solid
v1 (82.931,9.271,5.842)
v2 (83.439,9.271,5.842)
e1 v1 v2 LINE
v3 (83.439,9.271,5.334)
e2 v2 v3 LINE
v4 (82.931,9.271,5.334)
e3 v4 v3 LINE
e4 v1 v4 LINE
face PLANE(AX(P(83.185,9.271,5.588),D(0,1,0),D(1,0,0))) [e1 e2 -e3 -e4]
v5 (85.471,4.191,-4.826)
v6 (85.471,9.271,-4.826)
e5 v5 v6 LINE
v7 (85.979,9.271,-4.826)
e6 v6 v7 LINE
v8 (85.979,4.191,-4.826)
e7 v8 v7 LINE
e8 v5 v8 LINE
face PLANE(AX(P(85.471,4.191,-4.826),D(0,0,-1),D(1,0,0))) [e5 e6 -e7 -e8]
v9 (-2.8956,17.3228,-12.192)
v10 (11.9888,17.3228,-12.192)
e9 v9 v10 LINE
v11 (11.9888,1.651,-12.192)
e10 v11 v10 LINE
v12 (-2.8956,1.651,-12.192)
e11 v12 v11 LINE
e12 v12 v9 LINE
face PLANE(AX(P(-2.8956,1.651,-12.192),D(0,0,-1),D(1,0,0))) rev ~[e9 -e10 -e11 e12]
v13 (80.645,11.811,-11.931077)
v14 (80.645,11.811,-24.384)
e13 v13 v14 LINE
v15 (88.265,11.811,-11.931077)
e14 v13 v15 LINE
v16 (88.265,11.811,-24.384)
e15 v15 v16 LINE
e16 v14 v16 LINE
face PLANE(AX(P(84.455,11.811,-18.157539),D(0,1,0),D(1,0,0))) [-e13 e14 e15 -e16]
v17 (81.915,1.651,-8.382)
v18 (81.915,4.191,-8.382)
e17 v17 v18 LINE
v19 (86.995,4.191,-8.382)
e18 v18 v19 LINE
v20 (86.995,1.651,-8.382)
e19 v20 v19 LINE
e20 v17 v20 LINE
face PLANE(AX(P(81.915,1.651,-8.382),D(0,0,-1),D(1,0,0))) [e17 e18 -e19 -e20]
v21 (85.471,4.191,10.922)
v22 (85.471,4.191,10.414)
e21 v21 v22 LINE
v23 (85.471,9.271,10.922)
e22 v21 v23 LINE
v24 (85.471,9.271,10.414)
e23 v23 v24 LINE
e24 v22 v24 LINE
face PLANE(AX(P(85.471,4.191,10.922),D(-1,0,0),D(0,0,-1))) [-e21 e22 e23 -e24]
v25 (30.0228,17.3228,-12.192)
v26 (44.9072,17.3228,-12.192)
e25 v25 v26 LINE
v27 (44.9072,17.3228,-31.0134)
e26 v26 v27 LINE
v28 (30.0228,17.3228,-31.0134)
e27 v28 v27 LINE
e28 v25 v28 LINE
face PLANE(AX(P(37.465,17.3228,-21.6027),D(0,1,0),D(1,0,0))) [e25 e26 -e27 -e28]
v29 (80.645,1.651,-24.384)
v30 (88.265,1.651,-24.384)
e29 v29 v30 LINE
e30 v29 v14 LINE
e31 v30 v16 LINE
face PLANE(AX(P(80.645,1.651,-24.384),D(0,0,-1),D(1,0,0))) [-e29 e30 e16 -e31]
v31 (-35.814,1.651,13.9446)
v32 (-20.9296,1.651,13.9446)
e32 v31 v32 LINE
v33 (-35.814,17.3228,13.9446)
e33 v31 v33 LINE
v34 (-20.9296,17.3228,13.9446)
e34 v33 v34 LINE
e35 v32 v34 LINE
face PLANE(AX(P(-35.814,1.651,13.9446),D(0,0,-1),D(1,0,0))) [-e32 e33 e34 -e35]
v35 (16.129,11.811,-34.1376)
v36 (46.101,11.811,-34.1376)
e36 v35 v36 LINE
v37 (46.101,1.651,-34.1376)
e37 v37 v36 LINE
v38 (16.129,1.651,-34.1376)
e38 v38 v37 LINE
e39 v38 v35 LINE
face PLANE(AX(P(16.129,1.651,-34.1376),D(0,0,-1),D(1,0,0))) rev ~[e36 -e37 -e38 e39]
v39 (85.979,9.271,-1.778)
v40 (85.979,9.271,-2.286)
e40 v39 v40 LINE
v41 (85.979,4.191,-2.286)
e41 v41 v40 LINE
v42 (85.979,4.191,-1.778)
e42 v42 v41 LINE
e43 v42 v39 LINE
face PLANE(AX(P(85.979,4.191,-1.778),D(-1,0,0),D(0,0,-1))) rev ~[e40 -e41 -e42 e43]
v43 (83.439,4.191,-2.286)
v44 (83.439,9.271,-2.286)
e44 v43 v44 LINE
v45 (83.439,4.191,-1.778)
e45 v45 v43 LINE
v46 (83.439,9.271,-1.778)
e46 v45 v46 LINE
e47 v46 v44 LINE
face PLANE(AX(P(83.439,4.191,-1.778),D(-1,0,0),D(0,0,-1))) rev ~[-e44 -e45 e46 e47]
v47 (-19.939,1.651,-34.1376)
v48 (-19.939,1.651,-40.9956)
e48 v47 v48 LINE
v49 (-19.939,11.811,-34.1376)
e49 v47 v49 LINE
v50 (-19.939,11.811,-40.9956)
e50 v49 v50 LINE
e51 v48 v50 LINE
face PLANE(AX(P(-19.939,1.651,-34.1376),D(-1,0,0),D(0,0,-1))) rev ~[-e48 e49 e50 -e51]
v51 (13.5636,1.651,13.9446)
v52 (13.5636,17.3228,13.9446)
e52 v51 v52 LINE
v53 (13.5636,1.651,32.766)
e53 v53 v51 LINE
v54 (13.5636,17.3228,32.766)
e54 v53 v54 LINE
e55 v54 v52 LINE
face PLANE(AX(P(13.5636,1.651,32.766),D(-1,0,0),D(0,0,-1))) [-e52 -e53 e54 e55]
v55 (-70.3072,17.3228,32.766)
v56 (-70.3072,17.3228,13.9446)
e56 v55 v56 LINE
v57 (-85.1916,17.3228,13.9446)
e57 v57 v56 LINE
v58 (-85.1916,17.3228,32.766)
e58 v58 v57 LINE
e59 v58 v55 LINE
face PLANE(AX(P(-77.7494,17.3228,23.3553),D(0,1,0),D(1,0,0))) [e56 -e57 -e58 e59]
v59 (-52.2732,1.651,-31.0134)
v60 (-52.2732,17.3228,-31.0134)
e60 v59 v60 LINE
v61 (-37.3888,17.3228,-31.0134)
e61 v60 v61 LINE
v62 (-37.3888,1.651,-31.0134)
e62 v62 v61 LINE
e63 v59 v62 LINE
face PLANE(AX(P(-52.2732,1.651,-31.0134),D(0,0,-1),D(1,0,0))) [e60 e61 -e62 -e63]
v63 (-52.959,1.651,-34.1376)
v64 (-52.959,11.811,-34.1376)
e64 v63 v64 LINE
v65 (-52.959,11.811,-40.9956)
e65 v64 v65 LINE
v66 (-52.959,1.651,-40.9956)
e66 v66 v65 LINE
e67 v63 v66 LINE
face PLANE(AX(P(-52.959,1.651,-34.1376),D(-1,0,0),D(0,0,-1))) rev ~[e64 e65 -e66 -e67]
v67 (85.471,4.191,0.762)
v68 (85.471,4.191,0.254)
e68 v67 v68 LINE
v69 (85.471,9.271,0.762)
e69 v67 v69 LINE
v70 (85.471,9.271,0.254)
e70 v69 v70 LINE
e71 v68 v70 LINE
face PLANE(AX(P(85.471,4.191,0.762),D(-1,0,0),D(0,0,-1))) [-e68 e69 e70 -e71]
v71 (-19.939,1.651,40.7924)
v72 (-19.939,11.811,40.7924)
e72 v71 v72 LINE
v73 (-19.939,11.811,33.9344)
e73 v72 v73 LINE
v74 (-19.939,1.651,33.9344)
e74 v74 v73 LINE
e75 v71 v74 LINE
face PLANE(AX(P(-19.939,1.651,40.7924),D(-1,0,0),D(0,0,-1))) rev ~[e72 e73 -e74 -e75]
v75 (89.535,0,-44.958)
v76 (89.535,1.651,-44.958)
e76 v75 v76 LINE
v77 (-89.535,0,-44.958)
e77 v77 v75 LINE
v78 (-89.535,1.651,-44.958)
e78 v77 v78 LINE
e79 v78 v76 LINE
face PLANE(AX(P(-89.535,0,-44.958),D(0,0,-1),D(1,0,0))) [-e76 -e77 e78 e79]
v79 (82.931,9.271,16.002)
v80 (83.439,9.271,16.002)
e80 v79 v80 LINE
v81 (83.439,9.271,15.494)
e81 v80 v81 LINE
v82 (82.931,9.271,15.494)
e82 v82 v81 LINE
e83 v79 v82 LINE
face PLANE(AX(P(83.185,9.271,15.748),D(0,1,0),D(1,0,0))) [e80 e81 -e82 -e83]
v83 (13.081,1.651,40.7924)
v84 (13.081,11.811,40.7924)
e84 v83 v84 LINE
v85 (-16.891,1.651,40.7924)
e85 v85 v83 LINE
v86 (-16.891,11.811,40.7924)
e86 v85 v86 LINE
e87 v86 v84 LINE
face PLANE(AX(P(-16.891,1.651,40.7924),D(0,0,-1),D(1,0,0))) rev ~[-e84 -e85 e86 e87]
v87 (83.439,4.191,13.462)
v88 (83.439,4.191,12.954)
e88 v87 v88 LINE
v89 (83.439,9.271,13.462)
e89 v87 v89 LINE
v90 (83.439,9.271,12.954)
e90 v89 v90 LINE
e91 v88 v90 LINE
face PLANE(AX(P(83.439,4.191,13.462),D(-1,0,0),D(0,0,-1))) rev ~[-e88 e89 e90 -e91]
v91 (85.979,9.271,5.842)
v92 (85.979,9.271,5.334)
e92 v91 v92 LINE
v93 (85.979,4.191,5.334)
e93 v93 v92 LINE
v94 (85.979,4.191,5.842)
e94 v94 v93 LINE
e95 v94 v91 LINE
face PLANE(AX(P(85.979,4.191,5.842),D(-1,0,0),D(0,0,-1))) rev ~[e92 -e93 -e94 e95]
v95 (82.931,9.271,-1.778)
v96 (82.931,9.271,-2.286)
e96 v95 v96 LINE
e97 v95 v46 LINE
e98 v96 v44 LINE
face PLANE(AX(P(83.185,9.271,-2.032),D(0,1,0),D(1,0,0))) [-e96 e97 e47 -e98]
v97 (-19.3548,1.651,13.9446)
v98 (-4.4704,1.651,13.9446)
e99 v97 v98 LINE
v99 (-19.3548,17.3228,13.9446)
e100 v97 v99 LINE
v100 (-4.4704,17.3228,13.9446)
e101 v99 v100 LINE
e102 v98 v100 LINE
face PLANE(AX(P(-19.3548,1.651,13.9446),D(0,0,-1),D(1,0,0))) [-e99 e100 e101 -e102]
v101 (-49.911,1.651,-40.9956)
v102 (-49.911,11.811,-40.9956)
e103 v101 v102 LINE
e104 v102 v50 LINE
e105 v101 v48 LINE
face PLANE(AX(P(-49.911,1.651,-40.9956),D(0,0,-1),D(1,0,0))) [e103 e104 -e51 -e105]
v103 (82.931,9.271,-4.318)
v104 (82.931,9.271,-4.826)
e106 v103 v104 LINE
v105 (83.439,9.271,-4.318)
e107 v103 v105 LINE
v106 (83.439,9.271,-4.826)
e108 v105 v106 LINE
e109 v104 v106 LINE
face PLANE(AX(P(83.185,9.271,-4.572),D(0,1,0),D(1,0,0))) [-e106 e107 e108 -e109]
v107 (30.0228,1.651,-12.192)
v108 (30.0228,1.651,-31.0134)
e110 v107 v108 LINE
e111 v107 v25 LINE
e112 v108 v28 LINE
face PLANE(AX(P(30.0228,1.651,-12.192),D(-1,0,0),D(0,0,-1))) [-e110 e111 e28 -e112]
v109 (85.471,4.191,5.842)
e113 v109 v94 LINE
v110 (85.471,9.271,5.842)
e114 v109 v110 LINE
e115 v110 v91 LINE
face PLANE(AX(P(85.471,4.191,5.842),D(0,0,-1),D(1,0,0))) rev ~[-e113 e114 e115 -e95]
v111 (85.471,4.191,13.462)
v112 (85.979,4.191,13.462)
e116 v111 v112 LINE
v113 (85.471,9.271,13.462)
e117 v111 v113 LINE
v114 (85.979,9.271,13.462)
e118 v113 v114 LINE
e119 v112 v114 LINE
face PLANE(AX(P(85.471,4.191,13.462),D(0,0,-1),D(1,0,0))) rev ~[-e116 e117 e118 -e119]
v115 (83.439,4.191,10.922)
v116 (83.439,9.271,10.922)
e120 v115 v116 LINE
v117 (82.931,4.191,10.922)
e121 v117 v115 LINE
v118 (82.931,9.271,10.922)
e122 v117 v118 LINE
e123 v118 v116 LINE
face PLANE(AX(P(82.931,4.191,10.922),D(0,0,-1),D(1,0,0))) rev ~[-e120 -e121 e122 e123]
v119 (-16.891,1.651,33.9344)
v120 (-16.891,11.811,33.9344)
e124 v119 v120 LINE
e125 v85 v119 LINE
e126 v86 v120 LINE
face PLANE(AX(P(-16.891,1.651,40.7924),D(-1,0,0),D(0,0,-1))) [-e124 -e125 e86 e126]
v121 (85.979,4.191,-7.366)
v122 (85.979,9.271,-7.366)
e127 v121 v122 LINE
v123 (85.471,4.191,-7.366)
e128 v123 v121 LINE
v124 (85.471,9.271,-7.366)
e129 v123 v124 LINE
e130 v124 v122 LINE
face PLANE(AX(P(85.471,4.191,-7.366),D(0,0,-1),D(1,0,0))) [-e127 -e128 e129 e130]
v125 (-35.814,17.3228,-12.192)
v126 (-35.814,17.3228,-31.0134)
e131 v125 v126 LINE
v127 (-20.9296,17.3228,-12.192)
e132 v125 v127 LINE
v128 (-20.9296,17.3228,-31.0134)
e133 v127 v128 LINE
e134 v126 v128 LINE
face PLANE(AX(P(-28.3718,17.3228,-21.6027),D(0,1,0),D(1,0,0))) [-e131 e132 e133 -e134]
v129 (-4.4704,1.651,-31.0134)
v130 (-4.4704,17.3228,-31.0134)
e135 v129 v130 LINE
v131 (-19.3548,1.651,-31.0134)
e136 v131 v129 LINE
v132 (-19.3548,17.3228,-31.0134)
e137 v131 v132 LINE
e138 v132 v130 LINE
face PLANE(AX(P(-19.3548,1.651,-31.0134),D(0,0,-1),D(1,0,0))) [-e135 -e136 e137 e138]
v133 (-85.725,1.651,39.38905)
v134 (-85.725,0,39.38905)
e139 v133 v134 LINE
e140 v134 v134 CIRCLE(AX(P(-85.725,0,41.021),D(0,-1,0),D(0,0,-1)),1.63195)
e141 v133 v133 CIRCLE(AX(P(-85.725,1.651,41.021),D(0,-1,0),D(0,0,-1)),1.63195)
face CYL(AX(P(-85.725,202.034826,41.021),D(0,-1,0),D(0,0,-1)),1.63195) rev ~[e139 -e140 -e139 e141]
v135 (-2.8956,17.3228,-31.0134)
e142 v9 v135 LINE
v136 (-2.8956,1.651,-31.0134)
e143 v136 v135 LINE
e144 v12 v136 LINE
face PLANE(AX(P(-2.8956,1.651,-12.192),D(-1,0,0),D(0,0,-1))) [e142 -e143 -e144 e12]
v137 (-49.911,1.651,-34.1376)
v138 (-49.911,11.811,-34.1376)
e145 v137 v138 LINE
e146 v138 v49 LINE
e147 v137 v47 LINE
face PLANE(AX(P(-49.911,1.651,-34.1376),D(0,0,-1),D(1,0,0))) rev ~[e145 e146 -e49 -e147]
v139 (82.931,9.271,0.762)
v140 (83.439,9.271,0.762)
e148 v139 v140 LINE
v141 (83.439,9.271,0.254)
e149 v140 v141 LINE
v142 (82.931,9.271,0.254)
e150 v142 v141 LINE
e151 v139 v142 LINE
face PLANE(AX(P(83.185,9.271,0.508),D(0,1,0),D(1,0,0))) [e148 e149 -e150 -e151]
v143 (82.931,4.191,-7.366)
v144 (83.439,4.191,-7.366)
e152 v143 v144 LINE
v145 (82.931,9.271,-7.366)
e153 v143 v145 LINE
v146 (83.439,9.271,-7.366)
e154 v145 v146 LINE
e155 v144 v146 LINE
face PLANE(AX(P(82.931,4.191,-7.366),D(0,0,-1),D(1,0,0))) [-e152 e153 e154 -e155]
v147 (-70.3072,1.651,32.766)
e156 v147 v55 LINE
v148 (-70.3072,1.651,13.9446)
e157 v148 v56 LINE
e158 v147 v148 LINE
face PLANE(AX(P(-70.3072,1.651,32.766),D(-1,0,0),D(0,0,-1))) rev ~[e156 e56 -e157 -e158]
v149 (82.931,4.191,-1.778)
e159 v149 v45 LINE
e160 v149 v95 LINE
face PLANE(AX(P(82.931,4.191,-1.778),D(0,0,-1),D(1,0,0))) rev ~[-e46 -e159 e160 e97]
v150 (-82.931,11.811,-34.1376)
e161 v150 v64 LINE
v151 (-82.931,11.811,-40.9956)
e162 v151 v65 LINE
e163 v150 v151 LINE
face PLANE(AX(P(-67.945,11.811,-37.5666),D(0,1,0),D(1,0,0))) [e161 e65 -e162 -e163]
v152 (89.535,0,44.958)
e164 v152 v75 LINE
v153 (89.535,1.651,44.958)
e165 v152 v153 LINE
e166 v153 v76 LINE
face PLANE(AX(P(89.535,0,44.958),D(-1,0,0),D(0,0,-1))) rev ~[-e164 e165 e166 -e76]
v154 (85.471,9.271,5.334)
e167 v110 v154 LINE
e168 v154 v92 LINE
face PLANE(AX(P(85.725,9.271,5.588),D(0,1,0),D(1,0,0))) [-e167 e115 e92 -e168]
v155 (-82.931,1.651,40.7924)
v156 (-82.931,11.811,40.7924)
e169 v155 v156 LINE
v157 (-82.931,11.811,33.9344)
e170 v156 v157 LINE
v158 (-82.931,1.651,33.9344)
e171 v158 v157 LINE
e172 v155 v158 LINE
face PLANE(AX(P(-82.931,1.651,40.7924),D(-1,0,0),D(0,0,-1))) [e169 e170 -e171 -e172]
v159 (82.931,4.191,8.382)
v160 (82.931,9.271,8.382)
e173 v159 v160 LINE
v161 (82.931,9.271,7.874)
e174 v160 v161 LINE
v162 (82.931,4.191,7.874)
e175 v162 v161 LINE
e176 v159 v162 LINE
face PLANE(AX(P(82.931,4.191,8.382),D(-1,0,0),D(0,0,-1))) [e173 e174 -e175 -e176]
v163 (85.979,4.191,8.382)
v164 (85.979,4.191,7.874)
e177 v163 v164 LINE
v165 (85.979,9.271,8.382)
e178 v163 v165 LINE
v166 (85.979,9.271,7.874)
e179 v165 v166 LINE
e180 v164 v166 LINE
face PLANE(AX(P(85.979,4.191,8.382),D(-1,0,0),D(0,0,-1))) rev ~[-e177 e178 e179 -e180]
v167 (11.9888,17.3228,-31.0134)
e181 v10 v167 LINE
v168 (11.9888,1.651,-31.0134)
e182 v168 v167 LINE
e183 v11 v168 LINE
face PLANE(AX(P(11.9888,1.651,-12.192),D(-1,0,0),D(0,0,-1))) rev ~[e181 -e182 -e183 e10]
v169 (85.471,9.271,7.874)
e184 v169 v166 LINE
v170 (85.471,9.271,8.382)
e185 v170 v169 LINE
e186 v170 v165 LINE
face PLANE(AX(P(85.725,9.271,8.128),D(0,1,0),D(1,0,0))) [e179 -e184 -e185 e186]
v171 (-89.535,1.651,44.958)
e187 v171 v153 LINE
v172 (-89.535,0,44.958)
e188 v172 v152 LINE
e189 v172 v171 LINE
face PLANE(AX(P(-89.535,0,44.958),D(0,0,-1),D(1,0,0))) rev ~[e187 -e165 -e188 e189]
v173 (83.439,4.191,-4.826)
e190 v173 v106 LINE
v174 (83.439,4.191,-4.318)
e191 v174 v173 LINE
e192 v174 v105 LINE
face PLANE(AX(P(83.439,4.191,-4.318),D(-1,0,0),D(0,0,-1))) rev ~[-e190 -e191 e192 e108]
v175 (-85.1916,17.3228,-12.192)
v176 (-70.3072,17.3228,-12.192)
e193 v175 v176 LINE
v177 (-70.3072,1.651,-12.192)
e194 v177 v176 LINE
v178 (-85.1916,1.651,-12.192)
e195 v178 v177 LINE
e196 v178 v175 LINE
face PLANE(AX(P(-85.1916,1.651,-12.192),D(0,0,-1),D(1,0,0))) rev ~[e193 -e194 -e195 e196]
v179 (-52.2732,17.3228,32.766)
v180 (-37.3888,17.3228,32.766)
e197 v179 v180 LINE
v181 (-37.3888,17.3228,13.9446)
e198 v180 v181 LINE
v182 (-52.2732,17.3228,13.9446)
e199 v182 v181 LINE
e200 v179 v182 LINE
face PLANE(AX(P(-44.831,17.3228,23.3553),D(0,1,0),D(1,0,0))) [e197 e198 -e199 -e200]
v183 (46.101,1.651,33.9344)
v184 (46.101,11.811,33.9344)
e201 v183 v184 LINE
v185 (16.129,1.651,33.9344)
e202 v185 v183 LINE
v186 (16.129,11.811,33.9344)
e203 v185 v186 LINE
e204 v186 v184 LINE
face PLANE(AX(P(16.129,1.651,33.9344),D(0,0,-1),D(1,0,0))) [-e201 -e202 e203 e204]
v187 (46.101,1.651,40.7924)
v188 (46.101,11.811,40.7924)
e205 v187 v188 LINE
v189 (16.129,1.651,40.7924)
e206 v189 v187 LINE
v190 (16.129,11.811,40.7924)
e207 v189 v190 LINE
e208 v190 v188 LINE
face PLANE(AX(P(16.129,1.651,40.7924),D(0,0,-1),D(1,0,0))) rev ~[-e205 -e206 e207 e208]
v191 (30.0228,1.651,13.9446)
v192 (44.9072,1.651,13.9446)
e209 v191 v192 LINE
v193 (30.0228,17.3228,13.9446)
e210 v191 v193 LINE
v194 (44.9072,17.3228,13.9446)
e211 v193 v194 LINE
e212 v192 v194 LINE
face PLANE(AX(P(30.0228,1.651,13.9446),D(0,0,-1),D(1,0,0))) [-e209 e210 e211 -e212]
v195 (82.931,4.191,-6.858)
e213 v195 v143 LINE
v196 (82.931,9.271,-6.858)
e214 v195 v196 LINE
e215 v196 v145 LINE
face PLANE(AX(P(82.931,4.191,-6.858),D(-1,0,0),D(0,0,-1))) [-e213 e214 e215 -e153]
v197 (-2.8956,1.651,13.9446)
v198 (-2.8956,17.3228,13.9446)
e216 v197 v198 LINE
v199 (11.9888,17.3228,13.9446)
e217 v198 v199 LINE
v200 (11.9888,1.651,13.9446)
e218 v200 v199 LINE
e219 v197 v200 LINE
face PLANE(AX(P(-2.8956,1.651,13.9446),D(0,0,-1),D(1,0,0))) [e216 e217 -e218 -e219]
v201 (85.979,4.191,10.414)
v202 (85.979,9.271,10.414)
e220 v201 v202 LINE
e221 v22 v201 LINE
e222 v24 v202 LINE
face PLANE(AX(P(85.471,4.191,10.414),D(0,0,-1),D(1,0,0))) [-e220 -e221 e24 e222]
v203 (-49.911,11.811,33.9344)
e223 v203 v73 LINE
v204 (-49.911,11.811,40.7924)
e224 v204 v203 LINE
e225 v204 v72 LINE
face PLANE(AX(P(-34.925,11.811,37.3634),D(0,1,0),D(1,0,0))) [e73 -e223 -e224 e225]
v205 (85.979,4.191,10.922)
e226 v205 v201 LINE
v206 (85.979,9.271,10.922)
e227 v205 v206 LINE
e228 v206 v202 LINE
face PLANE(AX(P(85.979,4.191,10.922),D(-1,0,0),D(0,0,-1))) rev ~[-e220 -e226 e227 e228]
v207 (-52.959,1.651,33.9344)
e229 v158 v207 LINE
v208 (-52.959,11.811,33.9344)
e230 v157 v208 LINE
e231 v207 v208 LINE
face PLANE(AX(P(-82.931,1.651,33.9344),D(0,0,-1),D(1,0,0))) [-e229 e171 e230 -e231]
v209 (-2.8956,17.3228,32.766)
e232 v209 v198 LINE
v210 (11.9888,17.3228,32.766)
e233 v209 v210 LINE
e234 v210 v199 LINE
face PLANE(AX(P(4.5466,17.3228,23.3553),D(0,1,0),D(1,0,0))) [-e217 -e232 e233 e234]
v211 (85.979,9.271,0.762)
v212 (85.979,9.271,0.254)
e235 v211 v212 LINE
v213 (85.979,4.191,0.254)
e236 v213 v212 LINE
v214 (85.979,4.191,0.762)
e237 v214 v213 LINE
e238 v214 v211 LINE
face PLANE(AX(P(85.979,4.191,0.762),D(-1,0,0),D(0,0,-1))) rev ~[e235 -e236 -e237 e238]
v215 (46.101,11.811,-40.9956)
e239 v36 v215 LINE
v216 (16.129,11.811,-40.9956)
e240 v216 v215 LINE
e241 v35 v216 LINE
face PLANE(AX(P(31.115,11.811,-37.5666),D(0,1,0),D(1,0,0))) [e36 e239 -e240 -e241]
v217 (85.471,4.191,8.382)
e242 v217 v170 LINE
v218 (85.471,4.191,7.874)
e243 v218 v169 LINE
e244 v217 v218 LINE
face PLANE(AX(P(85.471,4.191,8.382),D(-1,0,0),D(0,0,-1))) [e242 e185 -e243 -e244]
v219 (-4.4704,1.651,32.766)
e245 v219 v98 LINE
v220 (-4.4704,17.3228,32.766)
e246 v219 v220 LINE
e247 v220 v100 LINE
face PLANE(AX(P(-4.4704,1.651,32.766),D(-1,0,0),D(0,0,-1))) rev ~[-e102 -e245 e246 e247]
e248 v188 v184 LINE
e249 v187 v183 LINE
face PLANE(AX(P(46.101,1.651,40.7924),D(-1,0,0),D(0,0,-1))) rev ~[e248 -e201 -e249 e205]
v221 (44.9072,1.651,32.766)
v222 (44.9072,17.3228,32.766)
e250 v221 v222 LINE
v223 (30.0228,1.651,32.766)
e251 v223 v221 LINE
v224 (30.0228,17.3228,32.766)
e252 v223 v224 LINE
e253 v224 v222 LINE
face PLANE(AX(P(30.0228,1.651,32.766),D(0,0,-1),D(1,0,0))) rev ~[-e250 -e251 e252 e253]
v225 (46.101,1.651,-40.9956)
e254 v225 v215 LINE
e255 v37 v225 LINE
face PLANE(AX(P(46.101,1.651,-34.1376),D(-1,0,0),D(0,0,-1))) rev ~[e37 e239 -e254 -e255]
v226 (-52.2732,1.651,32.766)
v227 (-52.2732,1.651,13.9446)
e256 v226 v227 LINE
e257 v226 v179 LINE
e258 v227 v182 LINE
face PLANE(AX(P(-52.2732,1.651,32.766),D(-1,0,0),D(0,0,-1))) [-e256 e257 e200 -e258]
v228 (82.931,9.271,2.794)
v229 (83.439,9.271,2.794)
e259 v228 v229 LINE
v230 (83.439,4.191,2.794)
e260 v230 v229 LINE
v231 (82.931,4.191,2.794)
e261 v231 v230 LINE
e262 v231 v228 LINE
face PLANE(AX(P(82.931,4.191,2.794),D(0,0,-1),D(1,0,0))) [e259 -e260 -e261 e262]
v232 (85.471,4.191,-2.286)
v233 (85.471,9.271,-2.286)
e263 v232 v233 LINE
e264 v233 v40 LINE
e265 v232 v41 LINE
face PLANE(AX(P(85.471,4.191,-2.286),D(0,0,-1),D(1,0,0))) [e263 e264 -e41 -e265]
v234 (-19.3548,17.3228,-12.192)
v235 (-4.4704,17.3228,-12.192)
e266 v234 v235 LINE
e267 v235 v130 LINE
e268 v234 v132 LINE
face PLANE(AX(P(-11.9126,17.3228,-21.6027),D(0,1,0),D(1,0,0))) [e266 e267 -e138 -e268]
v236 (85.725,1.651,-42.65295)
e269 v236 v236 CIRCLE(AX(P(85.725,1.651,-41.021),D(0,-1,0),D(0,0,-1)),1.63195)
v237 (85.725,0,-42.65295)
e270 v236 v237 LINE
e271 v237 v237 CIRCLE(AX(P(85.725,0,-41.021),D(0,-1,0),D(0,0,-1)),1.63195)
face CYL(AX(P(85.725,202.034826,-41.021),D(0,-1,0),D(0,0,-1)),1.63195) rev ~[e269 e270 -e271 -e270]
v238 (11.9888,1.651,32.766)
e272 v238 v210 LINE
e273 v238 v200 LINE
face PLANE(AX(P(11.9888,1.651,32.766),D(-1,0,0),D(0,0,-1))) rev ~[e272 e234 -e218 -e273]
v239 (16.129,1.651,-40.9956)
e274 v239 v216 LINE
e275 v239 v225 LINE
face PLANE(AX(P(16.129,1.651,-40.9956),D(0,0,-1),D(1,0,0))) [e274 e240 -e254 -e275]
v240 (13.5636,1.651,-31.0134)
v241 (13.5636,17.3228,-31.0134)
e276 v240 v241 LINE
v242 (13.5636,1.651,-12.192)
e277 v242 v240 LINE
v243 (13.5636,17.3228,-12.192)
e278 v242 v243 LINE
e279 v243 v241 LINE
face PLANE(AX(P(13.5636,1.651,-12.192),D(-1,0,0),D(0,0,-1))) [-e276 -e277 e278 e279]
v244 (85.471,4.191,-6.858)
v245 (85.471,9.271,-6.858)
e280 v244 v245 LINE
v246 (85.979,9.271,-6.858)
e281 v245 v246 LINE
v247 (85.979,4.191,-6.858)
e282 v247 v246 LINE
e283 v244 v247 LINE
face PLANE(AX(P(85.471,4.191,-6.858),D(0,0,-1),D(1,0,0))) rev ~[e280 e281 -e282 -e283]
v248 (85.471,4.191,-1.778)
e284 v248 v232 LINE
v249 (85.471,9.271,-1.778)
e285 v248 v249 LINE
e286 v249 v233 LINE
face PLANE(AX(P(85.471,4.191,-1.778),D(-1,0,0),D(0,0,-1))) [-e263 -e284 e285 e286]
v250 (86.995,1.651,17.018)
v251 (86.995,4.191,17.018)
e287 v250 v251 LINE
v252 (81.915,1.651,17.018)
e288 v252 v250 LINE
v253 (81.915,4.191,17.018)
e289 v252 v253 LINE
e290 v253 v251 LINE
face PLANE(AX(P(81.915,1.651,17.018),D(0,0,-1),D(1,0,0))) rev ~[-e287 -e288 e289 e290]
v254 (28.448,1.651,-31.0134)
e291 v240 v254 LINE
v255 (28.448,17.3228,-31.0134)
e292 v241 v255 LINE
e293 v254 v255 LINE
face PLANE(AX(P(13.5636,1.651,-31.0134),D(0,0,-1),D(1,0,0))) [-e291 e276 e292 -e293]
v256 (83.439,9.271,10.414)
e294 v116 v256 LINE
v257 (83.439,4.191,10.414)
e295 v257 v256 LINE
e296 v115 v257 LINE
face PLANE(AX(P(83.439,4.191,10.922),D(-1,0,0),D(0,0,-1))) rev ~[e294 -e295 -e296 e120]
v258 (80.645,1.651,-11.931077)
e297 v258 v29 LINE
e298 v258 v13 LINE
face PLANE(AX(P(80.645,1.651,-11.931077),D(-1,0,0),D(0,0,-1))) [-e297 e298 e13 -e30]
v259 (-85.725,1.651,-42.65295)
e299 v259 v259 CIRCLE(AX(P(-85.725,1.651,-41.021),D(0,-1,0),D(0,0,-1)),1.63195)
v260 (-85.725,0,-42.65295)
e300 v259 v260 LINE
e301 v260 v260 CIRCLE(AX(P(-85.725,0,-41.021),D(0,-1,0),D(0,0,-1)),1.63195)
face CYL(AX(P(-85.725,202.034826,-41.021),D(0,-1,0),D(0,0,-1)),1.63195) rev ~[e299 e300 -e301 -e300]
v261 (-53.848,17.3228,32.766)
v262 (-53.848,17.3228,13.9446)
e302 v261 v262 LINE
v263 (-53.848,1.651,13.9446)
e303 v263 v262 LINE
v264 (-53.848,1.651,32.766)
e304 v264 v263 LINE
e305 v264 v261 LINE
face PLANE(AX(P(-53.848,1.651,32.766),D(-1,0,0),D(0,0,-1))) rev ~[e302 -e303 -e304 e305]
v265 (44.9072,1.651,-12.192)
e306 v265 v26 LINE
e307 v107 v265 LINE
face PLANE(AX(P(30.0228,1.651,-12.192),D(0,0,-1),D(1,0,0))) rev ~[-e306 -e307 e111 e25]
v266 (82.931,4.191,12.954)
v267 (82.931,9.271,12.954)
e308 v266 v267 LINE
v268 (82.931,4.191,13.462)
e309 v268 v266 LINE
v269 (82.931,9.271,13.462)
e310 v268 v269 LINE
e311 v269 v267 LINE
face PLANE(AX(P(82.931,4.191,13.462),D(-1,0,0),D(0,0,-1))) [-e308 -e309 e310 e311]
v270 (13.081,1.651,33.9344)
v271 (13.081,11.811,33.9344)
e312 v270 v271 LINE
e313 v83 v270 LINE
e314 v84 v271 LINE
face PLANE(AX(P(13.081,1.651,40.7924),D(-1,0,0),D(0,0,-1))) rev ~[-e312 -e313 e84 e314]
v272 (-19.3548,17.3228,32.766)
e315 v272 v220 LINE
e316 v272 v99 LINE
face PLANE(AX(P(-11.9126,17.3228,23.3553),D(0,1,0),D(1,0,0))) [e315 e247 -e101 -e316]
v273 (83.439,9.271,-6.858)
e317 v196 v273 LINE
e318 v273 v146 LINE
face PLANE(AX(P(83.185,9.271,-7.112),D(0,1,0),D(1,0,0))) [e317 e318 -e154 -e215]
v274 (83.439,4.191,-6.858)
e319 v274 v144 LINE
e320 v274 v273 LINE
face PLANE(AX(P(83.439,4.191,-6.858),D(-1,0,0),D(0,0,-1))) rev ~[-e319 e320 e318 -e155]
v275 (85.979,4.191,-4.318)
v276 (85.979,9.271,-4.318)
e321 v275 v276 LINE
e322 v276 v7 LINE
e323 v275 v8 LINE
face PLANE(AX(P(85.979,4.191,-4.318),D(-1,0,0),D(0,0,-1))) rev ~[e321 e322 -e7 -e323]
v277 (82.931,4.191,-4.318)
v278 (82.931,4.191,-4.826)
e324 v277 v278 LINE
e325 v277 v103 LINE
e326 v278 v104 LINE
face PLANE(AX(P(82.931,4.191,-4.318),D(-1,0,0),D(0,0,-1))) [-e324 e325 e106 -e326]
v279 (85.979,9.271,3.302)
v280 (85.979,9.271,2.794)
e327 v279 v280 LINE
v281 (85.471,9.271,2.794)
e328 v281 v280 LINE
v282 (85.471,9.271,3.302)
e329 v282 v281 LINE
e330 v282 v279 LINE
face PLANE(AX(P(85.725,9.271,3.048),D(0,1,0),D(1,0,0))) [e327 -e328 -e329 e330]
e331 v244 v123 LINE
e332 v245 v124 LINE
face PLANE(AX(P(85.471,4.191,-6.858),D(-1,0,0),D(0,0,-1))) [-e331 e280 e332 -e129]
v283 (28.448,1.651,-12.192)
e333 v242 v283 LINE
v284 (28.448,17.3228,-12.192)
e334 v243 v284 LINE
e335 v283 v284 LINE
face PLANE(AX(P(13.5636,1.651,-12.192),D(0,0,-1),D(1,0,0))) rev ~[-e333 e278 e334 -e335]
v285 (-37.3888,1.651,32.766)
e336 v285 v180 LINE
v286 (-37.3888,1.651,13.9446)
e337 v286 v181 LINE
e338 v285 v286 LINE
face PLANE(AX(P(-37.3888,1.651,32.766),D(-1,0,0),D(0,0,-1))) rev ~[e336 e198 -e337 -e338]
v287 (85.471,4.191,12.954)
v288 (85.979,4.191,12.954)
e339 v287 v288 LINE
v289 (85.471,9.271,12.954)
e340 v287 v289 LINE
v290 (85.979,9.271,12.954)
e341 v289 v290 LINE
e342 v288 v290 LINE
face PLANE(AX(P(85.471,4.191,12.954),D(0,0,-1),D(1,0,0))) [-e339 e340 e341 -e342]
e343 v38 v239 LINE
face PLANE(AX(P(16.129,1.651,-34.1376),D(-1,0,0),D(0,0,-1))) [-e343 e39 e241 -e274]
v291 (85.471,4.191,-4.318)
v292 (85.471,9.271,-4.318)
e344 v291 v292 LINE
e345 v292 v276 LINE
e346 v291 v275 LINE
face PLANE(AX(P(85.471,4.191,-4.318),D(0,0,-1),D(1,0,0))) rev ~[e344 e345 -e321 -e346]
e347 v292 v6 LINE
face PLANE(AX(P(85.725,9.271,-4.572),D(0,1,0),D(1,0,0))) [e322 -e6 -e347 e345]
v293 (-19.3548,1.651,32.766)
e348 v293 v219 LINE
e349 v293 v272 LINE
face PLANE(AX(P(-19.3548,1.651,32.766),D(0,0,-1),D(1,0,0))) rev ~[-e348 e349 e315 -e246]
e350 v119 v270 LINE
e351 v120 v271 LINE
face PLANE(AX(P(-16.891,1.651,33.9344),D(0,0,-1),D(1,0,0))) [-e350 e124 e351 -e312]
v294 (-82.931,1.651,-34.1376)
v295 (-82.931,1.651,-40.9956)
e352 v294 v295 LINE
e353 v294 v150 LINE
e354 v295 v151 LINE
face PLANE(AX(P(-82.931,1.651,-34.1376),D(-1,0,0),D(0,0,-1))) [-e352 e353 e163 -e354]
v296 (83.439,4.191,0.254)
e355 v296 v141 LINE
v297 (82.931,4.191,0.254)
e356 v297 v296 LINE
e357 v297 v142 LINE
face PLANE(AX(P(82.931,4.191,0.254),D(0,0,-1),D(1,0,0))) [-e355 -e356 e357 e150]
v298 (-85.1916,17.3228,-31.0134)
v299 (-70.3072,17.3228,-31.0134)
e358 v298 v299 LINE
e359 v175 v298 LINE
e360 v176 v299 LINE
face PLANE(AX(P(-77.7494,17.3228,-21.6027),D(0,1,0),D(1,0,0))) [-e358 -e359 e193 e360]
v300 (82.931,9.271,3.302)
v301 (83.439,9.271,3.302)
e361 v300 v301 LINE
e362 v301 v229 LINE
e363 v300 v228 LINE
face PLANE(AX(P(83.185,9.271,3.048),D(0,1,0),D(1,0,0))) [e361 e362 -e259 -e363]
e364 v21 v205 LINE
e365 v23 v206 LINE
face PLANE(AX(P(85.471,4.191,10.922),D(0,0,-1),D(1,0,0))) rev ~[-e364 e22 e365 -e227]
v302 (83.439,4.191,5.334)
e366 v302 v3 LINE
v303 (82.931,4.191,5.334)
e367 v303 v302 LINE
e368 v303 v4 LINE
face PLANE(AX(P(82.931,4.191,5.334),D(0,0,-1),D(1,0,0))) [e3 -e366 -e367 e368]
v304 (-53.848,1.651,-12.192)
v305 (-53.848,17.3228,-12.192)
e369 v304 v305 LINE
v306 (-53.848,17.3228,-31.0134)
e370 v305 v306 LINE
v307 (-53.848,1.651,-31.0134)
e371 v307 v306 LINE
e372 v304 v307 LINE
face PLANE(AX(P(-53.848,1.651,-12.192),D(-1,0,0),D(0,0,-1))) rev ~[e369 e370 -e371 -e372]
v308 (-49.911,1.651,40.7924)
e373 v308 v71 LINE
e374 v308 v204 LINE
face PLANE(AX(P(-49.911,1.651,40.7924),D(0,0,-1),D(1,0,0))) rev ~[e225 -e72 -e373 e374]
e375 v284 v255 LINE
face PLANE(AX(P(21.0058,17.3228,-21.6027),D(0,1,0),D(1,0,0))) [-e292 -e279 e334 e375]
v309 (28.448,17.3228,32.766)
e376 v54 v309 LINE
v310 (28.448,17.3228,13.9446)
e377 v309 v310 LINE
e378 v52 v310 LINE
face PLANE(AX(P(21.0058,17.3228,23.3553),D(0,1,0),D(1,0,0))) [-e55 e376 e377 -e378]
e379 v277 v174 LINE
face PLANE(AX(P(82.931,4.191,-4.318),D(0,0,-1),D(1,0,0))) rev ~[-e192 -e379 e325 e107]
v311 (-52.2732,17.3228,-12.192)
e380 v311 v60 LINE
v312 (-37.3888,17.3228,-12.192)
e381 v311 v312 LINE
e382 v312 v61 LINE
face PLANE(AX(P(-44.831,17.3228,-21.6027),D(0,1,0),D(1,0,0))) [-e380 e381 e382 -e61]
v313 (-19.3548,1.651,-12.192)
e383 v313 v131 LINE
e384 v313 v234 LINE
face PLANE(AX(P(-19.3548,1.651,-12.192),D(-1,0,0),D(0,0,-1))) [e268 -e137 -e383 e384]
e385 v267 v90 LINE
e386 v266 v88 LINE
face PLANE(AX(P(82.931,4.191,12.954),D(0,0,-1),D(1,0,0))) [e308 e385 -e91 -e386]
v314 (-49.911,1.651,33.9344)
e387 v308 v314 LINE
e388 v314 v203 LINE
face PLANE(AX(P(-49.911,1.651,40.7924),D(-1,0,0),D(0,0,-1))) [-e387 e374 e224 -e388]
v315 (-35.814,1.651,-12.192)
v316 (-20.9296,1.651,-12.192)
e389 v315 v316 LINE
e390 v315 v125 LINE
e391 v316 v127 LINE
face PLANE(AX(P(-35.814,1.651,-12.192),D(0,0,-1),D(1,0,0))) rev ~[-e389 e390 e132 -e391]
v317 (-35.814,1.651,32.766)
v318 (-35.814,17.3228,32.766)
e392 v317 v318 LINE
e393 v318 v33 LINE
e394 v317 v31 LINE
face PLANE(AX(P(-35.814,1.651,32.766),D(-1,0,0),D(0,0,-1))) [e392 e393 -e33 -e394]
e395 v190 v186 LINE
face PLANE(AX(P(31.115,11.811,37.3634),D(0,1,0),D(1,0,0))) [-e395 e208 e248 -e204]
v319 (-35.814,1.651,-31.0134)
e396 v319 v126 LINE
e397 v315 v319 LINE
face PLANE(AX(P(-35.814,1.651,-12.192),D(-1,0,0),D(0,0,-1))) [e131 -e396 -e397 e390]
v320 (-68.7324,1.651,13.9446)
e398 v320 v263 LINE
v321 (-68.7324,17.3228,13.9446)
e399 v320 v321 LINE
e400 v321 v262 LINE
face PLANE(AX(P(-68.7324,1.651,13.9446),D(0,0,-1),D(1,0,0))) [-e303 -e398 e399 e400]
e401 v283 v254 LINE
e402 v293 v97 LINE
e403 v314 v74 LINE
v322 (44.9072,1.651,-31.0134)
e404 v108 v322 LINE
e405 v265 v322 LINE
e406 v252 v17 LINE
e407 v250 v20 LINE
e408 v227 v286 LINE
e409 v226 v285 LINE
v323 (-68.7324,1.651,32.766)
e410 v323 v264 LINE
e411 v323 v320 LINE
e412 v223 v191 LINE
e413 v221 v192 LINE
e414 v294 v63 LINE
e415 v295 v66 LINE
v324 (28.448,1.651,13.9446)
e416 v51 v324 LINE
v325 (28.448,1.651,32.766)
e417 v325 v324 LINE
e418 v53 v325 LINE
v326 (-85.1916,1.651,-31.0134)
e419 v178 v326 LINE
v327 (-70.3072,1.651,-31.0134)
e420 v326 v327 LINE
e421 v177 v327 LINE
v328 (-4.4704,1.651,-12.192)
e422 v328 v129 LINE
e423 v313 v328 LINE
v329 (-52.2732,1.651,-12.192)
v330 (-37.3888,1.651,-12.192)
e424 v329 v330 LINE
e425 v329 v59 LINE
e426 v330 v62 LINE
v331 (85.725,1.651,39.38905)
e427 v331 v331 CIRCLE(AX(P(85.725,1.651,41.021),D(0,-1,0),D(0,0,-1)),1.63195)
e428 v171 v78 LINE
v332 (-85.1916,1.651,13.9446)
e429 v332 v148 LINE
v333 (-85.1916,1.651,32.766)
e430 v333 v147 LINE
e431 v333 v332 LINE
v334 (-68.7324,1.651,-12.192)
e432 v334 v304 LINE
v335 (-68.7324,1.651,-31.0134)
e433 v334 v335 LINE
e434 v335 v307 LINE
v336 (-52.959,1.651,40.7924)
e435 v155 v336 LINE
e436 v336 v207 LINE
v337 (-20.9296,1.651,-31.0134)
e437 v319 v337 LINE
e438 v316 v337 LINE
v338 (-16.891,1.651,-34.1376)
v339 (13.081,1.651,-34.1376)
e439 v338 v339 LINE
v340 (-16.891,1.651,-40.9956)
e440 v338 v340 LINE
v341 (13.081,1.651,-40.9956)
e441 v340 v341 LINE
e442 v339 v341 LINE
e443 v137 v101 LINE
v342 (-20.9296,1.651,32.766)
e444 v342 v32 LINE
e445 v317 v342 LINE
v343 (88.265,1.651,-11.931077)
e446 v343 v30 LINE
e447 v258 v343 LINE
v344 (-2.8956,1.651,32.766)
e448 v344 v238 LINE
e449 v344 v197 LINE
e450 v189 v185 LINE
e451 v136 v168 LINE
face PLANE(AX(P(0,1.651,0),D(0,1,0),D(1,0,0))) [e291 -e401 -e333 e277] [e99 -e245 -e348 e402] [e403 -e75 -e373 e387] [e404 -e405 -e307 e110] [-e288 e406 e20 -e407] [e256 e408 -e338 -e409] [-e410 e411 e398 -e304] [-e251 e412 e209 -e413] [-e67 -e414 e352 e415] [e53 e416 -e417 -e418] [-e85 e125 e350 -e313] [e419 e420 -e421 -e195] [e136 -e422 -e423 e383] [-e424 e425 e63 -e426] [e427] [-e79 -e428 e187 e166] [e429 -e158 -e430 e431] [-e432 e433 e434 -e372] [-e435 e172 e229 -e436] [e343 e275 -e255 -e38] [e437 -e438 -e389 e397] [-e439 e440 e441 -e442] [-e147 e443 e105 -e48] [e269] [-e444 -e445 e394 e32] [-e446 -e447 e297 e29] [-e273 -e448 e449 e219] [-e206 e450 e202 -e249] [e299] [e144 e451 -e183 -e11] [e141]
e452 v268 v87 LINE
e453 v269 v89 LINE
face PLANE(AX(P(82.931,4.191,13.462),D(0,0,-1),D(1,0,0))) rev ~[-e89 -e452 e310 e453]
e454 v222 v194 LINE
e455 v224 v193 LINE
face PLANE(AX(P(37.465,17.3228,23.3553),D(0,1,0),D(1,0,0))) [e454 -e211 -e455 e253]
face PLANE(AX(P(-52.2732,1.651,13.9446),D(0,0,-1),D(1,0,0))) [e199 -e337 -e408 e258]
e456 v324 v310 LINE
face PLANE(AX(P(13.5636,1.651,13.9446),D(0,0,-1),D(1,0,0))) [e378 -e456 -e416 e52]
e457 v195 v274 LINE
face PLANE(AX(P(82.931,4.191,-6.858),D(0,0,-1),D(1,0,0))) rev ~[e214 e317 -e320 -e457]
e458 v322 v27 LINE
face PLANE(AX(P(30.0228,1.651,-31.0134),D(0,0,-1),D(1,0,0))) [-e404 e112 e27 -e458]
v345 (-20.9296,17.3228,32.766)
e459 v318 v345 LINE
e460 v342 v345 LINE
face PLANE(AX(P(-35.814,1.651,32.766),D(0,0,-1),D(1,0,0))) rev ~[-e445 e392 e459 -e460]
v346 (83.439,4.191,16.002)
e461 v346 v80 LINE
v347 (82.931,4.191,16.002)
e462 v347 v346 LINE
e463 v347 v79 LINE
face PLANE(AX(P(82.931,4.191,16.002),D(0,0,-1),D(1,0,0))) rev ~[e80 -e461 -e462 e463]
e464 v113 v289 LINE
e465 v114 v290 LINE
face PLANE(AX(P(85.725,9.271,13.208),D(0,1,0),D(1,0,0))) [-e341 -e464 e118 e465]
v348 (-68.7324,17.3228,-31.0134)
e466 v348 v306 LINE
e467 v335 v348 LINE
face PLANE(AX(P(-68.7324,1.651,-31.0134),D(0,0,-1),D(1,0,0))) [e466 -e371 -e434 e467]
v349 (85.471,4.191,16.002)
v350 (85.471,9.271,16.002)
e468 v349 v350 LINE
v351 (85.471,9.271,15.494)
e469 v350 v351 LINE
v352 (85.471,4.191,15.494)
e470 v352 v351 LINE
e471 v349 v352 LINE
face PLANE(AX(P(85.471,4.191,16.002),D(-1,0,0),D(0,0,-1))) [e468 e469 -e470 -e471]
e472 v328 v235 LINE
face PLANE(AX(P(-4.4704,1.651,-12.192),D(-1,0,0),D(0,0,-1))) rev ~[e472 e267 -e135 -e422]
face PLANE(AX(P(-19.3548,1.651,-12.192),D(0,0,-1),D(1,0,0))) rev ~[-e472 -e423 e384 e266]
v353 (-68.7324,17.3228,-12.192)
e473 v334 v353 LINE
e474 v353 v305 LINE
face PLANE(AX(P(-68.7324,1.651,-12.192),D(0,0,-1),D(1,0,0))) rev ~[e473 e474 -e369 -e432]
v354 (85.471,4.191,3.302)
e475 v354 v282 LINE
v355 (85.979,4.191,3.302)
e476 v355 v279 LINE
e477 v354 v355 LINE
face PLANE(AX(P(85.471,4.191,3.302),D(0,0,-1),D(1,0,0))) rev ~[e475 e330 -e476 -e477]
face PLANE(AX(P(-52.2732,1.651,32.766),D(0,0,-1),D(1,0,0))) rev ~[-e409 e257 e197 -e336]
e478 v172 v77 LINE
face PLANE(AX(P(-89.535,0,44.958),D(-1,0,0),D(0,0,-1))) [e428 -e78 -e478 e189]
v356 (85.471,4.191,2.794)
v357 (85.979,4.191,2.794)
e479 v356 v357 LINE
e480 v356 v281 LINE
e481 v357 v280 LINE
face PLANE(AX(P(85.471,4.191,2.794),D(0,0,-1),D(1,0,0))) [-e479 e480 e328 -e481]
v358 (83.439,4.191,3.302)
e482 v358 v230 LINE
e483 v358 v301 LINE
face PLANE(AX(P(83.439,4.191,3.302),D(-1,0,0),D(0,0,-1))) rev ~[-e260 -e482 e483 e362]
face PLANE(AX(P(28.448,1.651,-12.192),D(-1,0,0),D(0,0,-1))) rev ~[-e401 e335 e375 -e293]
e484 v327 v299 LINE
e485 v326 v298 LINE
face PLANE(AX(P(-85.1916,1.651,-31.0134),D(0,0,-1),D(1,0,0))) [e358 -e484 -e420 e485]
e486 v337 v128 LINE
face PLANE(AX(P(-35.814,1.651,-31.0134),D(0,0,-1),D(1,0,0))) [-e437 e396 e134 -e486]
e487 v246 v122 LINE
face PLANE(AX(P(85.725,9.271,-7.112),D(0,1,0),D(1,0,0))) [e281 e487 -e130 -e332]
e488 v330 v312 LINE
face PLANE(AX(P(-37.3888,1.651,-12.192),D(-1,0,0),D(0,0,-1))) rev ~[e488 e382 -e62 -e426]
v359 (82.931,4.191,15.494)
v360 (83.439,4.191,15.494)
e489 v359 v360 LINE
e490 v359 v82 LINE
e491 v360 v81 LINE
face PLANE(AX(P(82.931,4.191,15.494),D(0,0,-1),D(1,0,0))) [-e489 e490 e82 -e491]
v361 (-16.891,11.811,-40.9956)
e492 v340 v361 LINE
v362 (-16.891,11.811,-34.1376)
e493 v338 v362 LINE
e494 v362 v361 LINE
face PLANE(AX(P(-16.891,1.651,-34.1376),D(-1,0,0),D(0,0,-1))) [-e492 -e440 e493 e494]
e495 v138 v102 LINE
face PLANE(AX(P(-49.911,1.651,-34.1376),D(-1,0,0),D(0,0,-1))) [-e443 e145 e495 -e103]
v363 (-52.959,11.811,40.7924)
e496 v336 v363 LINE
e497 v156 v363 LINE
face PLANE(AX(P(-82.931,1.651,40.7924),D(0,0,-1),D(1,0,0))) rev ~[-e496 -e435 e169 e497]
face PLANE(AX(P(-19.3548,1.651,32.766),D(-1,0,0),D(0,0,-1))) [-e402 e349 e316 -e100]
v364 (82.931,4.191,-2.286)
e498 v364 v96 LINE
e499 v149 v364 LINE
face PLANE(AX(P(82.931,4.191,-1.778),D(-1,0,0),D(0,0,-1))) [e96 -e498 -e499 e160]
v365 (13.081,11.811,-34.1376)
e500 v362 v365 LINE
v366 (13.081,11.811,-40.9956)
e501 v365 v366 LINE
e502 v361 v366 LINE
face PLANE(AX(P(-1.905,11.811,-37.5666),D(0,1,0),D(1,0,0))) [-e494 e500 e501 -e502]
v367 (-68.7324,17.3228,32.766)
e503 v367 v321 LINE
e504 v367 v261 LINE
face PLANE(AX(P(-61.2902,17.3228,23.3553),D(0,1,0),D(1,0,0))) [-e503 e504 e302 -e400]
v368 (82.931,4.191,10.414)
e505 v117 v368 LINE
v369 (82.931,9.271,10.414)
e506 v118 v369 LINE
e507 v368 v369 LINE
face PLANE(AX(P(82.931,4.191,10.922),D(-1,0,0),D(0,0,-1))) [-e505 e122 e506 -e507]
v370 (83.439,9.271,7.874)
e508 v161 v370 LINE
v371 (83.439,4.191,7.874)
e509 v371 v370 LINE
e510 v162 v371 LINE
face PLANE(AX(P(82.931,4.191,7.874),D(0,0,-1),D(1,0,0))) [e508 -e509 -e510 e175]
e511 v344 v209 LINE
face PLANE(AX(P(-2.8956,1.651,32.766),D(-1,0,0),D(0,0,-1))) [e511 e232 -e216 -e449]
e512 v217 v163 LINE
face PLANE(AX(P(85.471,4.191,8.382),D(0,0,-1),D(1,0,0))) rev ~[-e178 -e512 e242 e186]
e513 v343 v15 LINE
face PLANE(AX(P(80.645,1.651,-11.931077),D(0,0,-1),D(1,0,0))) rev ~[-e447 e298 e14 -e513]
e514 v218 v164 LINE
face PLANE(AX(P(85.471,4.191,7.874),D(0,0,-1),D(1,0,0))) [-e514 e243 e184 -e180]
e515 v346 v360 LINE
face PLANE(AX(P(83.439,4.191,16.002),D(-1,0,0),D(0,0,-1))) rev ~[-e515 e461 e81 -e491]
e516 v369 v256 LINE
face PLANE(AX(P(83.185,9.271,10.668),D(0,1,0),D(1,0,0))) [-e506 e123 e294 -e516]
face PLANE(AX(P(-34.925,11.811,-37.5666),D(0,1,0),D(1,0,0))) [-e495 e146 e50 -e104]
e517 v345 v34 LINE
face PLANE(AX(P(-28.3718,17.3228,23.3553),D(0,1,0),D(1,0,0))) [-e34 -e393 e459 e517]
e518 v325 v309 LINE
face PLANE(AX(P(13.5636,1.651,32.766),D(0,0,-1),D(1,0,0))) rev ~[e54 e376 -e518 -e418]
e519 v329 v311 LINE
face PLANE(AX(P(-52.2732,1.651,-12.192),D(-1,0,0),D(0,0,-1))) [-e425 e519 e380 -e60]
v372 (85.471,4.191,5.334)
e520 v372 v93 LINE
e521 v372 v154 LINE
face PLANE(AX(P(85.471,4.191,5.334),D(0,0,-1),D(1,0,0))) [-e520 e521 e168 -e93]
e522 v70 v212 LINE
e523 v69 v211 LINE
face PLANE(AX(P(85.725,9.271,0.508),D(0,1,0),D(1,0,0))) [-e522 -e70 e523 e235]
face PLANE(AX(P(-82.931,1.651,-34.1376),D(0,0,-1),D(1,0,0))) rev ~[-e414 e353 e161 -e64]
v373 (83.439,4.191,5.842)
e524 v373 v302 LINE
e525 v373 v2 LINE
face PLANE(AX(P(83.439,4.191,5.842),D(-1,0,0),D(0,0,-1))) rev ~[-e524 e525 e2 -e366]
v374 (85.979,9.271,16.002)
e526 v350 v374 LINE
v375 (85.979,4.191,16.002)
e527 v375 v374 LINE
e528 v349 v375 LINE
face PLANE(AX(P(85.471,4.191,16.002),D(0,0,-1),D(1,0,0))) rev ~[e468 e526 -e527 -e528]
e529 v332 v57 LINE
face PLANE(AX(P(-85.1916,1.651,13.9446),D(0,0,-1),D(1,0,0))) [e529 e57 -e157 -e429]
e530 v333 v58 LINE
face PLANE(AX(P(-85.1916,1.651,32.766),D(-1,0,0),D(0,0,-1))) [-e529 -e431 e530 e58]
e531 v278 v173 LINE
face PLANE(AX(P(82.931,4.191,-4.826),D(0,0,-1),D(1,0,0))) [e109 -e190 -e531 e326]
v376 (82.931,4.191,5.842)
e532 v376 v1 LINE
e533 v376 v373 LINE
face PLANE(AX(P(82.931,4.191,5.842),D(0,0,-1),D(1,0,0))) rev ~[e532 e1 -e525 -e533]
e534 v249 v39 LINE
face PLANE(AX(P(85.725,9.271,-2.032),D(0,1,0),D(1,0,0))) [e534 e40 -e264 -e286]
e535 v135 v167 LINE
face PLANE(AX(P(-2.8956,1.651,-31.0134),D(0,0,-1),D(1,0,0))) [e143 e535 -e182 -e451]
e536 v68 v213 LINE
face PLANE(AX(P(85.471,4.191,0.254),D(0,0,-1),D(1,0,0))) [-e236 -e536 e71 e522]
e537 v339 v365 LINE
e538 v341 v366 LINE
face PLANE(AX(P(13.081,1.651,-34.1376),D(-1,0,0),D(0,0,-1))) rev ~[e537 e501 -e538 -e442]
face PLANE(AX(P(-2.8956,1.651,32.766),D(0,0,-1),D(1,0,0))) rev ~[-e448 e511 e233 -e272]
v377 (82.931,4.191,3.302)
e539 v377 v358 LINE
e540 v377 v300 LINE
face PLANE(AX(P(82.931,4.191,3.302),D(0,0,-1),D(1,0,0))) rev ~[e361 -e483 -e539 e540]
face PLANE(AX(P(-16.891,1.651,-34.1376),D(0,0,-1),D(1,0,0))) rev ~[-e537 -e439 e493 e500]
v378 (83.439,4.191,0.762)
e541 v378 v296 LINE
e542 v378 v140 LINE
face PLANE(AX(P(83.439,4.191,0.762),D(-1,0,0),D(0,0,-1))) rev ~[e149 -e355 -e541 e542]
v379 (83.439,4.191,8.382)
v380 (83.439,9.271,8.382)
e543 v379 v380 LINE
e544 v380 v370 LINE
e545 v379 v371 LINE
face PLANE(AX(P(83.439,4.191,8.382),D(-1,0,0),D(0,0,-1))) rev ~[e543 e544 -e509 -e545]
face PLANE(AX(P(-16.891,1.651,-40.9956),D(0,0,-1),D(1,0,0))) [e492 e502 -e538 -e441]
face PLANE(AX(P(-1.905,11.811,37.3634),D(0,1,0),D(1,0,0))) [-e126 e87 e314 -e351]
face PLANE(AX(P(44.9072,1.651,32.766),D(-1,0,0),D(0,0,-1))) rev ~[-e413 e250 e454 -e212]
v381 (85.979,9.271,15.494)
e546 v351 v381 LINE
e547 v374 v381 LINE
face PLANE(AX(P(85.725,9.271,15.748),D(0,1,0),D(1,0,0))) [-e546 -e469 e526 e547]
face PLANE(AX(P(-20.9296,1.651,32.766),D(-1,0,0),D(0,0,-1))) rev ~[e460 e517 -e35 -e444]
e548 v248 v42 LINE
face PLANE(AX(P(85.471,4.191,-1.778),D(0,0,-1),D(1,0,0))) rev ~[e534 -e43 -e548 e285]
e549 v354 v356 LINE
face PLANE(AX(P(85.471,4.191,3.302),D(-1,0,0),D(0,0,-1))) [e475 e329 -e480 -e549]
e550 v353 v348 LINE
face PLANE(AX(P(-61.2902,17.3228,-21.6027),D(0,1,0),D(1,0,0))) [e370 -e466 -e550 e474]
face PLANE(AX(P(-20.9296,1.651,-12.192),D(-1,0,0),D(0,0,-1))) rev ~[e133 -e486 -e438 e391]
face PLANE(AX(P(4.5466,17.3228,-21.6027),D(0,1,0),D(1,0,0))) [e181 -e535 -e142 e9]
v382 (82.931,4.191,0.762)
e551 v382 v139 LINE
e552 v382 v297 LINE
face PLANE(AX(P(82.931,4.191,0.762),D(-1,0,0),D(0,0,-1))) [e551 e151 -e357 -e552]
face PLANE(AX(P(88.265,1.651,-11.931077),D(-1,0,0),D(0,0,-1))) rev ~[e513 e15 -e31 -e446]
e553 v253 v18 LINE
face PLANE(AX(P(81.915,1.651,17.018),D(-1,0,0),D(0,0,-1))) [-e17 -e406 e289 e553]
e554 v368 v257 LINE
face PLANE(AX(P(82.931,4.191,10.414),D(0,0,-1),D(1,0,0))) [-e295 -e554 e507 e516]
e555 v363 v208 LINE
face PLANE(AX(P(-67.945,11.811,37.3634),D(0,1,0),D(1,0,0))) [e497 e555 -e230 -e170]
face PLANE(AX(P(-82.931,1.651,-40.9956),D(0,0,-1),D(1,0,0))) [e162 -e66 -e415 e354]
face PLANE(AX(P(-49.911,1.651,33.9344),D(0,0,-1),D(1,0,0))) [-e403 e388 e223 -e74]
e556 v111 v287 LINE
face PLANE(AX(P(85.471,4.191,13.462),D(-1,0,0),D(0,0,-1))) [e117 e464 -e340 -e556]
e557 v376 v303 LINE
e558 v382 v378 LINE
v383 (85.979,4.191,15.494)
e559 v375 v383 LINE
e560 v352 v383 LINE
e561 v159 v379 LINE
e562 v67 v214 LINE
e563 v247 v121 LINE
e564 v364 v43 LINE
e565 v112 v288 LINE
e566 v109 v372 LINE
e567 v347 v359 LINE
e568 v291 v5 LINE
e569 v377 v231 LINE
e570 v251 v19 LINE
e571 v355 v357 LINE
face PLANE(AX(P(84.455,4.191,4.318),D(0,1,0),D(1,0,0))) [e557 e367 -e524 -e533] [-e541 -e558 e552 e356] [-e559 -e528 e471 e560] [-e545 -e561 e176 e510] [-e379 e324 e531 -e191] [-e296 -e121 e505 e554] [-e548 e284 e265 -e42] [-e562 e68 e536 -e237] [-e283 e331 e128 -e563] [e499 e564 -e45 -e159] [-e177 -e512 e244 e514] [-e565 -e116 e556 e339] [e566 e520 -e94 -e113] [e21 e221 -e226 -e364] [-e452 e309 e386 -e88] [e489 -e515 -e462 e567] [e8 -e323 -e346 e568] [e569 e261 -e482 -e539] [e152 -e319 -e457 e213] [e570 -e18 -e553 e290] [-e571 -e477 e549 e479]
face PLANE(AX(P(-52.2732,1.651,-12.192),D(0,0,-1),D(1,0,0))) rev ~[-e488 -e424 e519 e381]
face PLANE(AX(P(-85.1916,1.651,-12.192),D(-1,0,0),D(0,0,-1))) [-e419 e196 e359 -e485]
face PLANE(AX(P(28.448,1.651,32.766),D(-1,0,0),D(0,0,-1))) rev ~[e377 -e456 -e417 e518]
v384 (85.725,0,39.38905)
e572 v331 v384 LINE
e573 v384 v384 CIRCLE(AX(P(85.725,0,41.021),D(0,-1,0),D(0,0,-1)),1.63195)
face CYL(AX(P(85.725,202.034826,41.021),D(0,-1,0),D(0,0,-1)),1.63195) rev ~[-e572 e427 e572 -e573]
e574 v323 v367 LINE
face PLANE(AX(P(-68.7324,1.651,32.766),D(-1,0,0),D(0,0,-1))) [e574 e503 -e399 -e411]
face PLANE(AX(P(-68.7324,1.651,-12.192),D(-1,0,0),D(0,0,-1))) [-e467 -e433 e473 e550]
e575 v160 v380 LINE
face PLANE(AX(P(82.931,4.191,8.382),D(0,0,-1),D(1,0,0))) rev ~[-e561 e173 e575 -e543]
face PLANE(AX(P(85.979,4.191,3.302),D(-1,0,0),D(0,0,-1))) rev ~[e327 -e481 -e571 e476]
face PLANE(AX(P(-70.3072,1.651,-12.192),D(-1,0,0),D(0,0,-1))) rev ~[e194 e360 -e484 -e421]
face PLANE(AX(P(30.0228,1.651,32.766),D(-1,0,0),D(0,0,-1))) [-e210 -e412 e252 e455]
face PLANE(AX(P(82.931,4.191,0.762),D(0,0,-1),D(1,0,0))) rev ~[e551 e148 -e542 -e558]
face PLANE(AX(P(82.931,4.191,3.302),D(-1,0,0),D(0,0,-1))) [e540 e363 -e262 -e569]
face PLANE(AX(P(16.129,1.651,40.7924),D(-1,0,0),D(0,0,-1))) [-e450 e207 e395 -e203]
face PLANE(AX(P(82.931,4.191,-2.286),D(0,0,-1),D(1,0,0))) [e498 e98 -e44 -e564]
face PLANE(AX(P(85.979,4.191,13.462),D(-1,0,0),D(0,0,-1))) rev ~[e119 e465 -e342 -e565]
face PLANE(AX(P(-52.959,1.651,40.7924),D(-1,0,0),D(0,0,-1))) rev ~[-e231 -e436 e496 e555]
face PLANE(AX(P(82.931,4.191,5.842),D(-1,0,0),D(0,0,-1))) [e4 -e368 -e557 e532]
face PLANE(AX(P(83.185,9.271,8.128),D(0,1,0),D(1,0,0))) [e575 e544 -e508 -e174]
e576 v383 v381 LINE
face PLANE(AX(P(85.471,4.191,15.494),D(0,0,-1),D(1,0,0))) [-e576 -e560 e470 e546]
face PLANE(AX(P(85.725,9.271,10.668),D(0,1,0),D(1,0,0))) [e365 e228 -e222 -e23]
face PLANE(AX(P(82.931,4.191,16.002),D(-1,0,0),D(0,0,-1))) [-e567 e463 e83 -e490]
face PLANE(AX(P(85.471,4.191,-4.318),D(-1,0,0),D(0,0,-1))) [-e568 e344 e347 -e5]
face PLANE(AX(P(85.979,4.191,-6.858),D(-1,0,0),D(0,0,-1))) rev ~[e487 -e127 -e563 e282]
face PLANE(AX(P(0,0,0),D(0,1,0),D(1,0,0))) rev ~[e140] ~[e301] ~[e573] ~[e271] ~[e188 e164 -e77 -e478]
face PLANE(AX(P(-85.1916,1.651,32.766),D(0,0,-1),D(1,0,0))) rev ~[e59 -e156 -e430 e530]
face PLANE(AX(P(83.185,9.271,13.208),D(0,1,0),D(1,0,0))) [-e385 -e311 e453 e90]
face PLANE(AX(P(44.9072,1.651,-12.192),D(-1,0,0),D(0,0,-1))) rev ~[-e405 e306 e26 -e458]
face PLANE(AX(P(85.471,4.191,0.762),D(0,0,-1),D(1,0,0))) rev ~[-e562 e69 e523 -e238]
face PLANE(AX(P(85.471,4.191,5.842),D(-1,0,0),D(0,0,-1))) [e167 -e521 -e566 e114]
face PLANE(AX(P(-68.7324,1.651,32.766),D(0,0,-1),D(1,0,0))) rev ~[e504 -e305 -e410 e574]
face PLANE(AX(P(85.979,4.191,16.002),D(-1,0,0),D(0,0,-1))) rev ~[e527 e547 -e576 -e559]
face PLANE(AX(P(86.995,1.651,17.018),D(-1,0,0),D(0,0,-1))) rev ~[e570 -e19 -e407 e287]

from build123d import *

# Parameters (mm, degrees)
SKETCH1_W                    = 179.07
SKETCH1_H                    = 89.916
BOSS_EXTRUDE1_DEPTH          = 1.651
F_30_0_1285_DIAMETER_HOLE1_D = 3.2639
SKETCH4_W                    = 14.8844
SKETCH4_H                    = 18.8214
BOSS_EXTRUDE2_DEPTH          = 15.6718
LPATTERN1_COUNT              = 8
LPATTERN1_PITCH              = 16.4592
LPATTERN1_COUNT_DIR2         = 2
LPATTERN1_PITCH_DIR2         = 44.958
SKETCH5_W                    = 29.972
SKETCH5_H                    = 6.858
BOSS_EXTRUDE3_DEPTH          = 10.16
LPATTERN2_COUNT              = 4
LPATTERN2_PITCH              = 33.02
LPATTERN2_COUNT_DIR2         = 2
LPATTERN2_PITCH_DIR2         = 74.93
SKETCH6_W                    = 7.62
SKETCH6_H                    = 12.452922763
BOSS_EXTRUDE4_DEPTH          = 10.16
SKETCH7_W                    = 5.08
SKETCH7_H                    = 25.4
BOSS_EXTRUDE5_DEPTH          = 2.54
SKETCH8_W                    = 0.508
SKETCH8_H                    = 0.508
BOSS_EXTRUDE6_DEPTH          = 5.08
LPATTERN3_COUNT              = 10
LPATTERN3_PITCH              = 2.54
LPATTERN3_COUNT_DIR2         = 2
LPATTERN3_PITCH_DIR2         = 2.54


with BuildPart() as part:
    # Sketch1 → Boss-Extrude1 (new body)
    with BuildSketch(Plane(origin=(0, 0, 0), x_dir=(1, 0, 0), z_dir=(0, 1, 0))):
        Rectangle(SKETCH1_W, SKETCH1_H)
    extrude(amount=BOSS_EXTRUDE1_DEPTH)

    # #30 (0.1285) Diameter Hole1 (through all)
    with Locations(Plane(origin=(-85.725, 1.651, 41.021), x_dir=(0, 0, 1), z_dir=(0, 1, 0))):
        with Locations((0, 0), (-82.042, 0), (-82.042, 171.45), (0, 171.45)):
            Hole(F_30_0_1285_DIAMETER_HOLE1_D / 2)

    # Sketch4 → Boss-Extrude2 (add)
    with BuildSketch(Plane(origin=(0, 1.651, 0), x_dir=(1, 0, 0), z_dir=(0, 1, 0))):
        with Locations((-77.7494, -23.3553)):
            Rectangle(SKETCH4_W, SKETCH4_H)
    boss_extrude2 = extrude(amount=BOSS_EXTRUDE2_DEPTH)

    # LPattern1: Boss-Extrude2 8 × 2
    with Locations(*[(i * LPATTERN1_PITCH, 0, -j * LPATTERN1_PITCH_DIR2) for i in range(LPATTERN1_COUNT) for j in range(LPATTERN1_COUNT_DIR2) if (i, j) != (0, 0)]):
        add(boss_extrude2)

    # Sketch5 → Boss-Extrude3 (add)
    with BuildSketch(Plane(origin=(0, 1.651, 0), x_dir=(1, 0, 0), z_dir=(0, 1, 0))):
        with Locations((-67.945, -37.3634)):
            Rectangle(SKETCH5_W, SKETCH5_H)
    boss_extrude3 = extrude(amount=BOSS_EXTRUDE3_DEPTH)

    # LPattern2: Boss-Extrude3 4 × 2
    with Locations(*[(i * LPATTERN2_PITCH, 0, -j * LPATTERN2_PITCH_DIR2) for i in range(LPATTERN2_COUNT) for j in range(LPATTERN2_COUNT_DIR2) if (i, j) != (0, 0)]):
        add(boss_extrude3)

    # Sketch6 → Boss-Extrude4 (add)
    with BuildSketch(Plane(origin=(0, 1.651, 0), x_dir=(1, 0, 0), z_dir=(0, 1, 0))):
        with Locations((84.455, 18.157538618)):
            Rectangle(SKETCH6_W, SKETCH6_H)
    extrude(amount=BOSS_EXTRUDE4_DEPTH)

    # Sketch7 → Boss-Extrude5 (add)
    with BuildSketch(Plane(origin=(0, 1.651, 0), x_dir=(1, 0, 0), z_dir=(0, 1, 0))):
        with Locations((84.455, -4.318)):
            Rectangle(SKETCH7_W, SKETCH7_H)
    extrude(amount=BOSS_EXTRUDE5_DEPTH)

    # Sketch8 → Boss-Extrude6 (add)
    with BuildSketch(Plane(origin=(0, 4.191, 0), x_dir=(1, 0, 0), z_dir=(0, 1, 0))):
        with Locations((85.725, 7.112)):
            Rectangle(SKETCH8_W, SKETCH8_H)
    boss_extrude6 = extrude(amount=BOSS_EXTRUDE6_DEPTH)

    # LPattern3: Boss-Extrude6 10 × 2
    with Locations(*[(-j * LPATTERN3_PITCH_DIR2, 0, i * LPATTERN3_PITCH) for i in range(LPATTERN3_COUNT) for j in range(LPATTERN3_COUNT_DIR2) if (i, j) != (0, 0)]):
        add(boss_extrude6)


solid = part.part
